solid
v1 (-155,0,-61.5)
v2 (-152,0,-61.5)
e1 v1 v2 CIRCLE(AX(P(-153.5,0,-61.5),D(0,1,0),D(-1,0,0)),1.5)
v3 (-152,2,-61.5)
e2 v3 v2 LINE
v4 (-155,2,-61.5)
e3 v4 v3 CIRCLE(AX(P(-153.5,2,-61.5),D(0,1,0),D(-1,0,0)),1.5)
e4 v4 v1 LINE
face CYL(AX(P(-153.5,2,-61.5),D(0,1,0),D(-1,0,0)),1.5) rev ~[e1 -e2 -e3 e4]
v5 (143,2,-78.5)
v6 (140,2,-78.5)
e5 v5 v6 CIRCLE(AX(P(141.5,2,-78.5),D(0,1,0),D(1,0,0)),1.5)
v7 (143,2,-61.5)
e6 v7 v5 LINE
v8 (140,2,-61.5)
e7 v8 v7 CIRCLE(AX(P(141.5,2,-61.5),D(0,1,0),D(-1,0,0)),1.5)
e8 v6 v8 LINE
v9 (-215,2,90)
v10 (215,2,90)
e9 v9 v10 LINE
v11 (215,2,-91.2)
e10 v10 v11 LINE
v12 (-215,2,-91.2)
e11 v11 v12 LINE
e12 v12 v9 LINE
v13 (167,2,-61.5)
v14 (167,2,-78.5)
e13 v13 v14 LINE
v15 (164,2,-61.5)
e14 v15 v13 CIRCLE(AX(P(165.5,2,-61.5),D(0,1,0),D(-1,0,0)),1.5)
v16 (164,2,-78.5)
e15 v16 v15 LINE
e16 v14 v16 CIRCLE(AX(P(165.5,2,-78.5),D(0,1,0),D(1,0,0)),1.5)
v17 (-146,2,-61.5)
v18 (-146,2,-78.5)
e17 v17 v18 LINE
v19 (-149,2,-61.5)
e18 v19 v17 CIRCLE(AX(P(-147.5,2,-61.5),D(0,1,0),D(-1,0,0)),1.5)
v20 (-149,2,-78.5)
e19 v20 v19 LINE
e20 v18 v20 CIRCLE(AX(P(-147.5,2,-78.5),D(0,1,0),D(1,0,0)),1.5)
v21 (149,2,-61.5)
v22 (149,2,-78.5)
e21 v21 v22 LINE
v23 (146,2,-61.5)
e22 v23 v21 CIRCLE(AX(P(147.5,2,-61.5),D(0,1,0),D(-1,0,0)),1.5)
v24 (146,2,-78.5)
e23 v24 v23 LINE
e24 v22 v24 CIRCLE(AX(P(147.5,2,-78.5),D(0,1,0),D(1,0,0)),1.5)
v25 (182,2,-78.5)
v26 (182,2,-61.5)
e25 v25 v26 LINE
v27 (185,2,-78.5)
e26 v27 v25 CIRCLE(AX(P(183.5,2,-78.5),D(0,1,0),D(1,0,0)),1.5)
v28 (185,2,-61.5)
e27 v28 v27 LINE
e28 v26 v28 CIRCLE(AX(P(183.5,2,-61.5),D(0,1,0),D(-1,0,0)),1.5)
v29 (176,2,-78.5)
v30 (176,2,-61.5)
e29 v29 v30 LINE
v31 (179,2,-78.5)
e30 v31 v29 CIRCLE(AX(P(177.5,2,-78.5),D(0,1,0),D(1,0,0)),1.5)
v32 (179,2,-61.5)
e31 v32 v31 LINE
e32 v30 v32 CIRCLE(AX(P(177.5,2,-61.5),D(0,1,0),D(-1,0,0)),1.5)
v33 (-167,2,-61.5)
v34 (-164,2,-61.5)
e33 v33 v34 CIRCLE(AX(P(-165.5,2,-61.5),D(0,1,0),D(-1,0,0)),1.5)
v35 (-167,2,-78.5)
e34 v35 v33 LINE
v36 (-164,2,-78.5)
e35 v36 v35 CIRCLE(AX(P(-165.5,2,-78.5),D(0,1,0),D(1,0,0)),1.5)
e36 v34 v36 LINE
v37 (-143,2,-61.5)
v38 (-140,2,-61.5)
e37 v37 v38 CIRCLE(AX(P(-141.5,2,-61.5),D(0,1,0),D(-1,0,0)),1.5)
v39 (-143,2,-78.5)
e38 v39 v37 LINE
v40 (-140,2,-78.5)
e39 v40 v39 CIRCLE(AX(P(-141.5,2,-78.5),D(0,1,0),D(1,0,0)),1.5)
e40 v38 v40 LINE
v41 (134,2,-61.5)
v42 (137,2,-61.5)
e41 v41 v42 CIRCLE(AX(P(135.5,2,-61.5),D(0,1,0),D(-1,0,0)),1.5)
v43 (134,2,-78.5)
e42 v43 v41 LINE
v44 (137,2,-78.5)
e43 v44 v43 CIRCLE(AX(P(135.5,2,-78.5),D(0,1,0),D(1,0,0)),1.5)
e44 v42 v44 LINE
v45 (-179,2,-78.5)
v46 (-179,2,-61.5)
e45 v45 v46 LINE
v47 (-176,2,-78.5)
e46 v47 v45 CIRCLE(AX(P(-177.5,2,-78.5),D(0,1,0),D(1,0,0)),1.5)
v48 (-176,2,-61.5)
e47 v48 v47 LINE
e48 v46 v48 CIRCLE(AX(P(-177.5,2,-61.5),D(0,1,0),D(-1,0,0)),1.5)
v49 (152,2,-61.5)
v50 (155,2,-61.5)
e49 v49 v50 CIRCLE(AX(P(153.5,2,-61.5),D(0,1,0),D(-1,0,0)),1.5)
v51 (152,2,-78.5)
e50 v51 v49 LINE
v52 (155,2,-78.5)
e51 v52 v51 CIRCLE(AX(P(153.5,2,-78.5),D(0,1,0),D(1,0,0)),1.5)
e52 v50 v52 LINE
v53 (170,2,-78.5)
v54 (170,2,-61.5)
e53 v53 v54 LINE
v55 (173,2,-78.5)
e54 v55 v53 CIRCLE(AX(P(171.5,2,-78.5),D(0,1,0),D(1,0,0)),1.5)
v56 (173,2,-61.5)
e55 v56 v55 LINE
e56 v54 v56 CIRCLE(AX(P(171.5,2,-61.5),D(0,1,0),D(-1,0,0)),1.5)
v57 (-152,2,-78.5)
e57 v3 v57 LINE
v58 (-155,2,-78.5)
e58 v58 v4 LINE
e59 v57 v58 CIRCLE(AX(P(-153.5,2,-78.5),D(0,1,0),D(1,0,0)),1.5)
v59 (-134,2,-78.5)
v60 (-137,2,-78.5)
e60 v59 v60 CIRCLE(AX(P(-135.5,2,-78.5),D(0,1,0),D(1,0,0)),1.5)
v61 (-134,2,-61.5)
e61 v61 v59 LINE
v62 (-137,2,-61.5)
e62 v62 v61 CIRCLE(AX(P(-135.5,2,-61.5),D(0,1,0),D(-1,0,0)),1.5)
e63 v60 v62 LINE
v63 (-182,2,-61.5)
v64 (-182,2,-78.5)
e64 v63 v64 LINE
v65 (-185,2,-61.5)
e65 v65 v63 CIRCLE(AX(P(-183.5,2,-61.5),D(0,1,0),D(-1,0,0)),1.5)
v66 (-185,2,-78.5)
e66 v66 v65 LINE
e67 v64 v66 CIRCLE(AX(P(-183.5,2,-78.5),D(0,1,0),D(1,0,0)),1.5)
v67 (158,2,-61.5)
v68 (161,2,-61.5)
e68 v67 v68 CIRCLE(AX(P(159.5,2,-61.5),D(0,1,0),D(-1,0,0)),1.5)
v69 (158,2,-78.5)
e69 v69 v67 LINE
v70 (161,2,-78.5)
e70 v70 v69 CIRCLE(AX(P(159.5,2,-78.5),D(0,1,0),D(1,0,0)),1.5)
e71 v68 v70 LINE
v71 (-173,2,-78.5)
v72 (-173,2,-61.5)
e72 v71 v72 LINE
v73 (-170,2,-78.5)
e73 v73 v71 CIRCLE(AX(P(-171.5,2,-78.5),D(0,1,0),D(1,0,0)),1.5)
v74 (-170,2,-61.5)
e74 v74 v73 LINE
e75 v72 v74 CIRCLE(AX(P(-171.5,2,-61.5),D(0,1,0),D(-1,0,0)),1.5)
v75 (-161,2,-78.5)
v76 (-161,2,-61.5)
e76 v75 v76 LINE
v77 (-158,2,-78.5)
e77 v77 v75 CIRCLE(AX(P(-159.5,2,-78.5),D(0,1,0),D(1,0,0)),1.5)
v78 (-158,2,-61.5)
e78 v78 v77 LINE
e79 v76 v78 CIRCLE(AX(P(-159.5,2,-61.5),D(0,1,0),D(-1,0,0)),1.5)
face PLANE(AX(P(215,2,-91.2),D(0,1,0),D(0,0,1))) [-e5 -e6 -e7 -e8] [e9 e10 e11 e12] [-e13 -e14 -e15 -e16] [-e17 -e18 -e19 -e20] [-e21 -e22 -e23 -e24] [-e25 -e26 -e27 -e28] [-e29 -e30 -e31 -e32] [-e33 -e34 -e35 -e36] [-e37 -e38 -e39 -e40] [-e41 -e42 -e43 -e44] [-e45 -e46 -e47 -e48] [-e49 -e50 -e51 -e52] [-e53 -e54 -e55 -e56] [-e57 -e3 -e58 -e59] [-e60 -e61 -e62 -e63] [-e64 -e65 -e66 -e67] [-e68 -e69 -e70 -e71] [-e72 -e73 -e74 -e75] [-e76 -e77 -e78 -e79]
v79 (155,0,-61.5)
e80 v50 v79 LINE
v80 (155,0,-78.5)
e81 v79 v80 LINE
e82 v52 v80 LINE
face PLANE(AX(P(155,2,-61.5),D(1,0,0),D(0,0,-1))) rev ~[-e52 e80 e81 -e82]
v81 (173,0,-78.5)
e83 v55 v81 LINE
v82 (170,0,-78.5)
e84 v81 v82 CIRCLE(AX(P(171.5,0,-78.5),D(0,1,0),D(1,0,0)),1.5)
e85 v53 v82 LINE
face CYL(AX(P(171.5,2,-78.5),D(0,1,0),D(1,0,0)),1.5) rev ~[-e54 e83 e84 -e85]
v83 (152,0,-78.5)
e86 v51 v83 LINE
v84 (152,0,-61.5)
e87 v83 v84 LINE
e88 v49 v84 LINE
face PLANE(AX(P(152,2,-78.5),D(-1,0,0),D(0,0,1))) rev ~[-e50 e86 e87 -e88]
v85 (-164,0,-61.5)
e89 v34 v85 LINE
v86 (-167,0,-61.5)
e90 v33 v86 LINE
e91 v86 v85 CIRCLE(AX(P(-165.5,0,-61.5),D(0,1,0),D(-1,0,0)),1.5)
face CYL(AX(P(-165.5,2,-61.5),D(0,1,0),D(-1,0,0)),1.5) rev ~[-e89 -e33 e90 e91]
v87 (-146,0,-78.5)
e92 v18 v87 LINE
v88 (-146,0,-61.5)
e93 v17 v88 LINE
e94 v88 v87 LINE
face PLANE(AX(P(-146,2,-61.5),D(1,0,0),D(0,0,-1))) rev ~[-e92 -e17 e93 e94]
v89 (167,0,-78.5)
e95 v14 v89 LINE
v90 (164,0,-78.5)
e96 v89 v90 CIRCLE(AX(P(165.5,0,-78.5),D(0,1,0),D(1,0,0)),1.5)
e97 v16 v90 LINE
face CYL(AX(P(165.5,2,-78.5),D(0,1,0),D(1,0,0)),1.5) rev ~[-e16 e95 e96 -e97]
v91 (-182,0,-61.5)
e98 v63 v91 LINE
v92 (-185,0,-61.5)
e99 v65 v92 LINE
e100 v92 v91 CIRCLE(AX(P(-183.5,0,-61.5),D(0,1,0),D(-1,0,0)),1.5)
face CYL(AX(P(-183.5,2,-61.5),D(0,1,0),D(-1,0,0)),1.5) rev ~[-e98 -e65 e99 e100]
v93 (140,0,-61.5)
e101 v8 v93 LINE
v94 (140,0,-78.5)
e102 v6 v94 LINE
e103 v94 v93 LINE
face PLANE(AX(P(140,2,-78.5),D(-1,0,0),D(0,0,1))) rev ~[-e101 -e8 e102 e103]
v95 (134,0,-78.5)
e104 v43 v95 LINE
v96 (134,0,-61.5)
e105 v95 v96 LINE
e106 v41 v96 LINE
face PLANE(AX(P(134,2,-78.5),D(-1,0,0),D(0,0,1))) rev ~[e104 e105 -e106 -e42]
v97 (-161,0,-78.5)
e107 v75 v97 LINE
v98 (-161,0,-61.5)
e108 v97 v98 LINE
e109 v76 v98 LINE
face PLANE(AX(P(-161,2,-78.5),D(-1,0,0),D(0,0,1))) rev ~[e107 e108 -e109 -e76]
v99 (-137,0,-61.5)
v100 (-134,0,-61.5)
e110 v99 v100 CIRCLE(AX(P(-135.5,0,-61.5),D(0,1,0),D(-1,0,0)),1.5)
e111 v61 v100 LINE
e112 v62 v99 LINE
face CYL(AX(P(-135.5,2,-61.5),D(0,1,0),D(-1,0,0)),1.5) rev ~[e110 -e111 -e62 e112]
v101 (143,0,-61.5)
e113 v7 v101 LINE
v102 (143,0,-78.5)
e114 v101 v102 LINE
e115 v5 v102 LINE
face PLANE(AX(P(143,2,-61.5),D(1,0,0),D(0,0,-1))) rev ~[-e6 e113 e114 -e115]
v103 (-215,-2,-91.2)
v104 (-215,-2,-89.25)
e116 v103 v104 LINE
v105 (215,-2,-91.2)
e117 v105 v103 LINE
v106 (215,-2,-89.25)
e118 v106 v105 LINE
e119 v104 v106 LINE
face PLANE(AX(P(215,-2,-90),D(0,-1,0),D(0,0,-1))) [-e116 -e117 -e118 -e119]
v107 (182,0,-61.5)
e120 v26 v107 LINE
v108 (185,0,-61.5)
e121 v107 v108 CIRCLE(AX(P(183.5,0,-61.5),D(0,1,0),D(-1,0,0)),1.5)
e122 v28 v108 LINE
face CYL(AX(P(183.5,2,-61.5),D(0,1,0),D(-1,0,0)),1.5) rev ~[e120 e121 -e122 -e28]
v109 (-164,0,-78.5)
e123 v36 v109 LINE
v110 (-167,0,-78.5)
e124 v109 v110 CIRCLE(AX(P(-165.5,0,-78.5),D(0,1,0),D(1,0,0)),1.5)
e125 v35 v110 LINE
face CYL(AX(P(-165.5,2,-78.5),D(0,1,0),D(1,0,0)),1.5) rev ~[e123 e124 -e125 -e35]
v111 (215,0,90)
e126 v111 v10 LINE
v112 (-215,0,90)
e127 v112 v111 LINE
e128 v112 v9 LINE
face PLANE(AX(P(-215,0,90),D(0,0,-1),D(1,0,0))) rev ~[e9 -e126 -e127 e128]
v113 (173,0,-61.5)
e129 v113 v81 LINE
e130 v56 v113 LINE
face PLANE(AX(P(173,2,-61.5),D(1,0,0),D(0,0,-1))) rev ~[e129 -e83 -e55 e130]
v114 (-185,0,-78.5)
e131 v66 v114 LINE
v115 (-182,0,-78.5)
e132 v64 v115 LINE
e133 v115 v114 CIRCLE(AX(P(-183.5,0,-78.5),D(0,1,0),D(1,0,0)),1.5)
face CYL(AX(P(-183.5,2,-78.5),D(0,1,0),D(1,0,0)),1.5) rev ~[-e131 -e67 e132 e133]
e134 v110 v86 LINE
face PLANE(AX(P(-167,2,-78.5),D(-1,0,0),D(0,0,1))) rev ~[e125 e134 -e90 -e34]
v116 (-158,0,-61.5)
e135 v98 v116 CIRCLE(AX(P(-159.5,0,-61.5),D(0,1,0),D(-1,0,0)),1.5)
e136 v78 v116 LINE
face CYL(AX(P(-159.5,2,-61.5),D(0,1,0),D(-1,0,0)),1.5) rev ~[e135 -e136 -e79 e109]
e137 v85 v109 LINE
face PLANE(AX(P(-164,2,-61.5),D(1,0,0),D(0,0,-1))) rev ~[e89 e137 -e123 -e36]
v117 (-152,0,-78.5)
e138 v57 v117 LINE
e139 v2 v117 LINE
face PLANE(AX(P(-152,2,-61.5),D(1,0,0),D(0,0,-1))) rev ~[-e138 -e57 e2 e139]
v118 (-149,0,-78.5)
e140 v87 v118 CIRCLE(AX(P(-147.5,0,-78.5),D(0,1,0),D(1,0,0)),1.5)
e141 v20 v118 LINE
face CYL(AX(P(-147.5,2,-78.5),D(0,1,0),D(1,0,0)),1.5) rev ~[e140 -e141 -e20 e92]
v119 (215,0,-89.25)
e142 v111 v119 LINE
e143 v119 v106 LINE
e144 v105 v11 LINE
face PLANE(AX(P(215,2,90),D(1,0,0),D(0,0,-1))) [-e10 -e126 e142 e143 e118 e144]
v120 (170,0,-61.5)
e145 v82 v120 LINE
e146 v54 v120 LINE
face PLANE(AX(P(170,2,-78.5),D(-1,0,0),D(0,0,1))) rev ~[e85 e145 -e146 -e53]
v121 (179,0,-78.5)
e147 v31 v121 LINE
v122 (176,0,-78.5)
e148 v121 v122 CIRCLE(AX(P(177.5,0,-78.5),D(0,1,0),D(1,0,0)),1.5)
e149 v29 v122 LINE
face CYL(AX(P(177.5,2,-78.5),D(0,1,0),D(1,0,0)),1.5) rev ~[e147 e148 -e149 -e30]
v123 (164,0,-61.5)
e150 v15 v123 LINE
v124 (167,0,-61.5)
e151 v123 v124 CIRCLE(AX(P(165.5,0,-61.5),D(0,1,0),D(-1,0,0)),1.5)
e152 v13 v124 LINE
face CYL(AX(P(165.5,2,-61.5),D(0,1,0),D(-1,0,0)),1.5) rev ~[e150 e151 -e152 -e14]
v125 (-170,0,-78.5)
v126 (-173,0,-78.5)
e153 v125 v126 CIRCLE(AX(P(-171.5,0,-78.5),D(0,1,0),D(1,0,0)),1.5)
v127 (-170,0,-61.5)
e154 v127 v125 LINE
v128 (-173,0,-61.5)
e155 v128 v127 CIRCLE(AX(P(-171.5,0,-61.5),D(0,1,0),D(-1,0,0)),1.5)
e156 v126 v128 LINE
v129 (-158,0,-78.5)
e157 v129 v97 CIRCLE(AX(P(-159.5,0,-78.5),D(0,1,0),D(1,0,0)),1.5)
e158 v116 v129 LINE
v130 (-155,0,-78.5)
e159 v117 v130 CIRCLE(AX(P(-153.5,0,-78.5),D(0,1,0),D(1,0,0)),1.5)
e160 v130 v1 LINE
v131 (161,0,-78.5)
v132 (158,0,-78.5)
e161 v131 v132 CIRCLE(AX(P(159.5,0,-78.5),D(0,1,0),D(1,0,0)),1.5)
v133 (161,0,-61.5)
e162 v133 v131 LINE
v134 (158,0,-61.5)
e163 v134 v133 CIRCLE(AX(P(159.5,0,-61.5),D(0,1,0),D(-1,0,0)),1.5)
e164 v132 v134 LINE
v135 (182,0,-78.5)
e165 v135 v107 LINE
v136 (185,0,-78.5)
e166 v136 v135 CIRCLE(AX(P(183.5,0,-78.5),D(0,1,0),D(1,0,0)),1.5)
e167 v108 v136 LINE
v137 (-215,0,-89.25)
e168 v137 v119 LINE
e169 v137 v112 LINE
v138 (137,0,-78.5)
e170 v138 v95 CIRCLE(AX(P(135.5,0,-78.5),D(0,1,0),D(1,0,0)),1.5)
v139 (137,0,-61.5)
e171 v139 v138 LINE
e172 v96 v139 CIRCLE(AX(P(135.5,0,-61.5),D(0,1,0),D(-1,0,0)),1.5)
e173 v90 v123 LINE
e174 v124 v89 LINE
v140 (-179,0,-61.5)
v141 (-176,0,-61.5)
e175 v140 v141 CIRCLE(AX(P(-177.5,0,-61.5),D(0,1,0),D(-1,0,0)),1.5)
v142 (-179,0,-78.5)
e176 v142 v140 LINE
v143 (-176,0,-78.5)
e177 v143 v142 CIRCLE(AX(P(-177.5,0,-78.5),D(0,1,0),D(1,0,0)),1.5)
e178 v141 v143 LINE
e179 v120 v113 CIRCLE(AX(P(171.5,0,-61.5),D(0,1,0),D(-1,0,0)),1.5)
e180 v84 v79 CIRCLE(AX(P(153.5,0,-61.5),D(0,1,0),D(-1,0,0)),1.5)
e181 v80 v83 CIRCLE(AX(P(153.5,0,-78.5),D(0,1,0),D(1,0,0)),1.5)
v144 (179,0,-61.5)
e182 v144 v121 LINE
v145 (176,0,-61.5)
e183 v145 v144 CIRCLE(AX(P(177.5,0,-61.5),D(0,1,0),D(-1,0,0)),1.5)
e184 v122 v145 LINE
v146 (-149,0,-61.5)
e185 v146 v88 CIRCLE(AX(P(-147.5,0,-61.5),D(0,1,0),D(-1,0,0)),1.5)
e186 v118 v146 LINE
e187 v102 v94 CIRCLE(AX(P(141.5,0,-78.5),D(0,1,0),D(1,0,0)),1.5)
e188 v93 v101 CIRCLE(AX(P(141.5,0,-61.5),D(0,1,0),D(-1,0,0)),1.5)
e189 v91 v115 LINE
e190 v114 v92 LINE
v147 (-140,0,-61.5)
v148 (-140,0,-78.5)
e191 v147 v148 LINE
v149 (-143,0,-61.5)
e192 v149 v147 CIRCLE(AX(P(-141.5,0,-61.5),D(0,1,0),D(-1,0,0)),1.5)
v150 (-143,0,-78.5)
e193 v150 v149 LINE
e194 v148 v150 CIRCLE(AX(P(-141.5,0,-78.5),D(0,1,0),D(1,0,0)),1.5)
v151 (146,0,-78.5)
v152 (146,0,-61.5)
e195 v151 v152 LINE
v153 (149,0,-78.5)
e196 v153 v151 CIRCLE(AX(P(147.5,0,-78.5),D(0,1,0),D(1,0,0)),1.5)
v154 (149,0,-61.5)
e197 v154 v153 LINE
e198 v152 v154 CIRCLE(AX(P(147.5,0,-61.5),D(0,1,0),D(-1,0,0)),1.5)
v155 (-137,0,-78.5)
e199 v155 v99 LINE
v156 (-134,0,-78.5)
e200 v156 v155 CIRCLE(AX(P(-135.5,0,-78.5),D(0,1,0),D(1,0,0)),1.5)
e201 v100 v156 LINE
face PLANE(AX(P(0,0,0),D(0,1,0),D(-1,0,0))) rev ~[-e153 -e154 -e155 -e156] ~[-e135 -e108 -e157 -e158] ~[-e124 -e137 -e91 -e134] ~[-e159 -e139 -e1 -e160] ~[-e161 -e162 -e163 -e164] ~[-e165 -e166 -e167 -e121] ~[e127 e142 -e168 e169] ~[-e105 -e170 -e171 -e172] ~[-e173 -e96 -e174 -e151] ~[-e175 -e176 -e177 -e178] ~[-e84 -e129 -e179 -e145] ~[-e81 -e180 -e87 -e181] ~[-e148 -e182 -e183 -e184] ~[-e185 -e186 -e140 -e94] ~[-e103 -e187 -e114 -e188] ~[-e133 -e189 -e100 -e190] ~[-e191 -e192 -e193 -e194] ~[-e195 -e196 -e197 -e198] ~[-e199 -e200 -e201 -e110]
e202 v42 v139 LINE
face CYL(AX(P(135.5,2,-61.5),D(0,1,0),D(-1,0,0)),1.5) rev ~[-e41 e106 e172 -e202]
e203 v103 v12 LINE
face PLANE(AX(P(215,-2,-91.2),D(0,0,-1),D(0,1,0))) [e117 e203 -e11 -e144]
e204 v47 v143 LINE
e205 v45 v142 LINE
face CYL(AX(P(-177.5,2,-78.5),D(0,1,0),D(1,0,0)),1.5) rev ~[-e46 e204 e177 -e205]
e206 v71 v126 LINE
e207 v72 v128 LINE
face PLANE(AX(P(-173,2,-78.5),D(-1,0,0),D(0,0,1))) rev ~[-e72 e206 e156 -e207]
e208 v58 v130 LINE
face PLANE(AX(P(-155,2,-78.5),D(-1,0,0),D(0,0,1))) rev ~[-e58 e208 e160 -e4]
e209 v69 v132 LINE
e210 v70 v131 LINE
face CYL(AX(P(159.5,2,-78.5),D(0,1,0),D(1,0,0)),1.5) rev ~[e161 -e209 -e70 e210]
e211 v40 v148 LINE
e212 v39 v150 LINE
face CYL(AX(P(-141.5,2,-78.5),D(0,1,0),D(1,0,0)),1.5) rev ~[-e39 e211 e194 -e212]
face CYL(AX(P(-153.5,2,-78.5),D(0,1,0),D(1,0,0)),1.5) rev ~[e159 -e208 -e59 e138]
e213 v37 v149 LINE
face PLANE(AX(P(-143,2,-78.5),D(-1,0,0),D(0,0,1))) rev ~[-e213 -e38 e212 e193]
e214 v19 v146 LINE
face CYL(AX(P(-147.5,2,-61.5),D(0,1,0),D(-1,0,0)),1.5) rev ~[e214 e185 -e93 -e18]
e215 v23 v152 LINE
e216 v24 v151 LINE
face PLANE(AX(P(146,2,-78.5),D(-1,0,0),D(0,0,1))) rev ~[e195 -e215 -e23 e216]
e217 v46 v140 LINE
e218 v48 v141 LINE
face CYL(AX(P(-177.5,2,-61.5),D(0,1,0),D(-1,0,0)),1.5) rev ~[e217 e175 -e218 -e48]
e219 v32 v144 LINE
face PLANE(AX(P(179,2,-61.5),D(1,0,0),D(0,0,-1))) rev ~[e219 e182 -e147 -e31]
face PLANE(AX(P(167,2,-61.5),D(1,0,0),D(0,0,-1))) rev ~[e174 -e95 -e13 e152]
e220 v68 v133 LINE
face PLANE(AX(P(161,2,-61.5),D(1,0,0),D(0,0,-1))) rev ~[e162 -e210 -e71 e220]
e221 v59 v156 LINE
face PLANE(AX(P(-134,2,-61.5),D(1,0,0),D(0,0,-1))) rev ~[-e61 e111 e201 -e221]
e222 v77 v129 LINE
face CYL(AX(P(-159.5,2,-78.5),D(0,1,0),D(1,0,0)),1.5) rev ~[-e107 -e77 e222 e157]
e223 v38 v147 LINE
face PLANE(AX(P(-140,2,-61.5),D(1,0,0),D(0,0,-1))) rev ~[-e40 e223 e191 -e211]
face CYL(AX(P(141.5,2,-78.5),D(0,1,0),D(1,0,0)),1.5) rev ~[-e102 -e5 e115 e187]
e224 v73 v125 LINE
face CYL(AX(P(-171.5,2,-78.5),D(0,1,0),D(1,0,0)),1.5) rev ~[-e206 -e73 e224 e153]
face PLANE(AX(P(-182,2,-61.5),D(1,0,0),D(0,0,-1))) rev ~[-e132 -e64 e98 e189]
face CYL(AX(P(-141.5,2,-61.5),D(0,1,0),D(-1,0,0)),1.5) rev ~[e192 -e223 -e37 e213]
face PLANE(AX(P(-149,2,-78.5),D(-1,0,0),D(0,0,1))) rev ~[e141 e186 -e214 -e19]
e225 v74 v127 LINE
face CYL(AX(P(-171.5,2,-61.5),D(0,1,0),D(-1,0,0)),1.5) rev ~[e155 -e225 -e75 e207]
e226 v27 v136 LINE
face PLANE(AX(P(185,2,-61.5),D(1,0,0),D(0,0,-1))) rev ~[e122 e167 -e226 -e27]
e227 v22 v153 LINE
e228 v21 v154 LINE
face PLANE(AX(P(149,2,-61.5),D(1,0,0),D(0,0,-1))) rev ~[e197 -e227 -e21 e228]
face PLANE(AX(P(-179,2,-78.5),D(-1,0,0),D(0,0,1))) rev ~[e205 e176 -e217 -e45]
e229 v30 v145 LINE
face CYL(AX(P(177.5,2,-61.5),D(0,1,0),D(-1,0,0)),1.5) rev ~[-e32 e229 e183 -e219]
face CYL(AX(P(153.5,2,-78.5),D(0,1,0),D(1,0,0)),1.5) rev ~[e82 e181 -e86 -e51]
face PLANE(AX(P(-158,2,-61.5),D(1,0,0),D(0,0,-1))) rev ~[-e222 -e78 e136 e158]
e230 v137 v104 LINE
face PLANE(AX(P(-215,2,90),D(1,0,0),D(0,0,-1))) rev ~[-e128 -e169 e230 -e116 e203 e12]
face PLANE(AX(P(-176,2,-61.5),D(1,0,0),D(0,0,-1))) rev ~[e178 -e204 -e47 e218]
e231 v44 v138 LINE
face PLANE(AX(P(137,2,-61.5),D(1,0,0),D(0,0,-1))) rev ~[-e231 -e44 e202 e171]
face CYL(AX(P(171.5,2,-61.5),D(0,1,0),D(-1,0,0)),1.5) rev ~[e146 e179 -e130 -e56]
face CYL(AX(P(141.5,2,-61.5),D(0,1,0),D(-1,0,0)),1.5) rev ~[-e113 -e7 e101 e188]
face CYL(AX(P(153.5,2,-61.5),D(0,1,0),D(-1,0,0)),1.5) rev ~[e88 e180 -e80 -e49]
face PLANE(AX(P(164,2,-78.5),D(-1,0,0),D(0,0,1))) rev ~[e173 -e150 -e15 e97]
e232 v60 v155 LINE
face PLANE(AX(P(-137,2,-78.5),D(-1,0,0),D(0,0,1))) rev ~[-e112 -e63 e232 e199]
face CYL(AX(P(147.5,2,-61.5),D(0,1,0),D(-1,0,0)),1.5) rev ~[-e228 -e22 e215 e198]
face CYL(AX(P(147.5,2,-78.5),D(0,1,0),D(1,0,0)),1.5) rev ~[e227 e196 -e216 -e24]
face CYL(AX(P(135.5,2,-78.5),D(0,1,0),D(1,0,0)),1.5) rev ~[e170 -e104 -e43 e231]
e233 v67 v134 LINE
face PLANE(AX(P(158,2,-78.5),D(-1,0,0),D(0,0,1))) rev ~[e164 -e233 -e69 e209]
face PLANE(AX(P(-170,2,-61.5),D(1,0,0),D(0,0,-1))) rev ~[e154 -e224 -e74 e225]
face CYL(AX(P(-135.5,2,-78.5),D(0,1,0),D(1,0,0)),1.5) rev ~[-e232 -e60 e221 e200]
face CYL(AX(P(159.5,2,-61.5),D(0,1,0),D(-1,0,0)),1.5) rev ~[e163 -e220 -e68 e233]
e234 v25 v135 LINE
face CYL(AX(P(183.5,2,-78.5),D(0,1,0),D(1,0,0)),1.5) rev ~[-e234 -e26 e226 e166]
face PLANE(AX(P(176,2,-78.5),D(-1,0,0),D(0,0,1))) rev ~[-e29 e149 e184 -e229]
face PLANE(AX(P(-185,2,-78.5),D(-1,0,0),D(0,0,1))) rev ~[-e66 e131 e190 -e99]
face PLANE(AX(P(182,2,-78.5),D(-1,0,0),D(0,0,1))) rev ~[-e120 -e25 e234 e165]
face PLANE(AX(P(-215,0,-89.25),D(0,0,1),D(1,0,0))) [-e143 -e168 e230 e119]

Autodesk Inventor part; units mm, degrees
ref_plane "YZ Plane" through (0, 0, 0) normal (1, 0, 0) x (0, 1, 0)
ref_plane "XZ Plane" through (0, 0, 0) normal (0, 1, 0) x (-1, 0, 0)
ref_plane "XY Plane" through (0, 0, 0) normal (0, 0, 1) x (1, 0, 0)
sketch "Esboço1" plane through (0, 0, 0) normal (0, 1, 0) x (-1, 0, 0)
  line L0 (215, 90) -> (-215, 90)
  line L1 (-215, 90) -> (-215, -90)
  line L2 (-215, -90) -> (215, -90)
  line L3 (215, -90) -> (215, 90)
  point P0 (0, 0)
  dimension "d3" = 180
  dimension "d5" = 215
  dimension "d6" = 430
  dimension "d7" = 90
extrude "Extrusão1" add sketch "Esboço1" along normal blind 2
sketch "Esboço2" plane through (0, 0, 0) normal (0, -1, 0) x (1, 0, 0)
  line L0 (215, -90) -> (-215, -90) projected
  line L1 (-215, -90) -> (-215, -89.25)
  line L2 (-215, -90) -> (-215, 90) projected
  line L3 (-215, -89.25) -> (215, -89.25)
  line L4 (215, 90) -> (215, -90) projected
  line L5 (215, -89.25) -> (215, -90)
  line L6 (215, -90) -> (-215, -90)
  point P0 (0, 0)
  dimension "d10" = 0.75
  dimension "d11" = 430
extrude "Extrusão2" add sketch "Esboço2" along normal blind 2
sketch "Esboço3" plane through (0, 2, 0) normal (0, 1, 0) x (1, 0, 0)
  line L0 (-215, 90) -> (215, 90) projected
  line L1 (-215, 80) -> (215, 80) construction
  line L2 (-215, 80) -> (-215, 60) construction
  line L3 (-215, 60) -> (215, 60) construction
  line L4 (215, 80) -> (215, 60) construction
  line L5 (-185, 60) -> (-182, 60) construction
  line L6 (-182, 60) -> (-182, 80) construction
  line L7 (-182, 80) -> (-185, 80) construction
  line L8 (-185, 80) -> (-185, 60) construction
  line L9 (-183.5, 60) -> (-183.5, 80) construction
  line L10 (-182, 61.5) -> (-182, 78.5)
  line L11 (-185, 78.5) -> (-185, 61.5)
  arc A0 (-185, 61.5) -> (-182, 61.5) centre (-183.5, 61.5) ccw
  arc A1 (-182, 78.5) -> (-185, 78.5) centre (-183.5, 78.5) ccw
  line L12 (-179, 78.5) -> (-179, 61.5)
  arc A2 (-176, 78.5) -> (-179, 78.5) centre (-177.5, 78.5) ccw
  line L13 (-176, 61.5) -> (-176, 78.5)
  arc A3 (-179, 61.5) -> (-176, 61.5) centre (-177.5, 61.5) ccw
  line L14 (-173, 78.5) -> (-173, 61.5)
  arc A4 (-170, 78.5) -> (-173, 78.5) centre (-171.5, 78.5) ccw
  line L15 (-170, 61.5) -> (-170, 78.5)
  arc A5 (-173, 61.5) -> (-170, 61.5) centre (-171.5, 61.5) ccw
  line L16 (-167, 78.5) -> (-167, 61.5)
  arc A6 (-164, 78.5) -> (-167, 78.5) centre (-165.5, 78.5) ccw
  line L17 (-164, 61.5) -> (-164, 78.5)
  arc A7 (-167, 61.5) -> (-164, 61.5) centre (-165.5, 61.5) ccw
  line L18 (-161, 78.5) -> (-161, 61.5)
  arc A8 (-158, 78.5) -> (-161, 78.5) centre (-159.5, 78.5) ccw
  line L19 (-158, 61.5) -> (-158, 78.5)
  arc A9 (-161, 61.5) -> (-158, 61.5) centre (-159.5, 61.5) ccw
  line L20 (-155, 78.5) -> (-155, 61.5)
  arc A10 (-152, 78.5) -> (-155, 78.5) centre (-153.5, 78.5) ccw
  line L21 (-152, 61.5) -> (-152, 78.5)
  arc A11 (-155, 61.5) -> (-152, 61.5) centre (-153.5, 61.5) ccw
  line L22 (-149, 78.5) -> (-149, 61.5)
  arc A12 (-146, 78.5) -> (-149, 78.5) centre (-147.5, 78.5) ccw
  line L23 (-146, 61.5) -> (-146, 78.5)
  arc A13 (-149, 61.5) -> (-146, 61.5) centre (-147.5, 61.5) ccw
  line L24 (-143, 78.5) -> (-143, 61.5)
  arc A14 (-140, 78.5) -> (-143, 78.5) centre (-141.5, 78.5) ccw
  line L25 (-140, 61.5) -> (-140, 78.5)
  arc A15 (-143, 61.5) -> (-140, 61.5) centre (-141.5, 61.5) ccw
  line L26 (-137, 78.5) -> (-137, 61.5)
  arc A16 (-134, 78.5) -> (-137, 78.5) centre (-135.5, 78.5) ccw
  line L27 (-134, 61.5) -> (-134, 78.5)
  arc A17 (-137, 61.5) -> (-134, 61.5) centre (-135.5, 61.5) ccw
  line L28 (185, 60) -> (182, 60) construction
  line L29 (182, 60) -> (182, 80) construction
  line L30 (182, 80) -> (185, 80) construction
  line L31 (185, 80) -> (185, 60) construction
  line L32 (183.5, 80) -> (183.5, 60) construction
  line L33 (182, 78.5) -> (182, 61.5)
  line L34 (185, 61.5) -> (185, 78.5)
  arc A18 (185, 78.5) -> (182, 78.5) centre (183.5, 78.5) ccw
  arc A19 (182, 61.5) -> (185, 61.5) centre (183.5, 61.5) ccw
  arc A20 (179, 78.5) -> (176, 78.5) centre (177.5, 78.5) ccw
  line L35 (179, 61.5) -> (179, 78.5)
  line L36 (176, 78.5) -> (176, 61.5)
  arc A21 (176, 61.5) -> (179, 61.5) centre (177.5, 61.5) ccw
  arc A22 (173, 78.5) -> (170, 78.5) centre (171.5, 78.5) ccw
  line L37 (173, 61.5) -> (173, 78.5)
  line L38 (170, 78.5) -> (170, 61.5)
  arc A23 (170, 61.5) -> (173, 61.5) centre (171.5, 61.5) ccw
  arc A24 (167, 78.5) -> (164, 78.5) centre (165.5, 78.5) ccw
  line L39 (167, 61.5) -> (167, 78.5)
  line L40 (164, 78.5) -> (164, 61.5)
  arc A25 (164, 61.5) -> (167, 61.5) centre (165.5, 61.5) ccw
  arc A26 (161, 78.5) -> (158, 78.5) centre (159.5, 78.5) ccw
  line L41 (161, 61.5) -> (161, 78.5)
  line L42 (158, 78.5) -> (158, 61.5)
  arc A27 (158, 61.5) -> (161, 61.5) centre (159.5, 61.5) ccw
  arc A28 (155, 78.5) -> (152, 78.5) centre (153.5, 78.5) ccw
  line L43 (155, 61.5) -> (155, 78.5)
  line L44 (152, 78.5) -> (152, 61.5)
  arc A29 (152, 61.5) -> (155, 61.5) centre (153.5, 61.5) ccw
  arc A30 (149, 78.5) -> (146, 78.5) centre (147.5, 78.5) ccw
  line L45 (149, 61.5) -> (149, 78.5)
  line L46 (146, 78.5) -> (146, 61.5)
  arc A31 (146, 61.5) -> (149, 61.5) centre (147.5, 61.5) ccw
  arc A32 (143, 78.5) -> (140, 78.5) centre (141.5, 78.5) ccw
  line L47 (143, 61.5) -> (143, 78.5)
  line L48 (140, 78.5) -> (140, 61.5)
  arc A33 (140, 61.5) -> (143, 61.5) centre (141.5, 61.5) ccw
  arc A34 (137, 78.5) -> (134, 78.5) centre (135.5, 78.5) ccw
  line L49 (137, 61.5) -> (137, 78.5)
  line L50 (134, 78.5) -> (134, 61.5)
  arc A35 (134, 61.5) -> (137, 61.5) centre (135.5, 61.5) ccw
  point P0 (0, 0)
  point P1 (-183.5, 70)
  point P2 (183.5, 70)
  dimension "d15" = 430
  dimension "d16" = 20
  dimension "d19" = 6
  dimension "d26" = 6
  dimension "d31" = 20
  dimension "d33" = 3
  dimension "d35" = 15
  dimension "d37" = 1.5
  dimension "d38" = 20
  dimension "d39" = 3
  dimension "d40" = 30
  dimension "d41" = 30
  dimension "d42" = 10
  dimension "d43" = 1.5
extrude "Extrusão3" cut sketch "Esboço3" against normal blind 4
sketch "Esboço4" plane through (215, 2, 90) normal (1, 0, 0) x (0, 0, -1)
  line L0 (179.25, -4) -> (180, -4) projected
  line L1 (180, -4) -> (181.2, -4)
  line L2 (181.2, -4) -> (181.2, 0)
  line L3 (181.2, 0) -> (180, 0)
  line L4 (0, 0) -> (180, 0) projected
  line L5 (180, 0) -> (180, -4)
  point P0 (90, -2)
  dimension "d46" = 1.2
  dimension "d47" = 4
extrude "Extrusão4" add sketch "Esboço4" against normal blind 430
equation "\"d3\" = 2 * d7"
equation "\"d6\" = 2 * d5"
properties material "Aço, carbono"
